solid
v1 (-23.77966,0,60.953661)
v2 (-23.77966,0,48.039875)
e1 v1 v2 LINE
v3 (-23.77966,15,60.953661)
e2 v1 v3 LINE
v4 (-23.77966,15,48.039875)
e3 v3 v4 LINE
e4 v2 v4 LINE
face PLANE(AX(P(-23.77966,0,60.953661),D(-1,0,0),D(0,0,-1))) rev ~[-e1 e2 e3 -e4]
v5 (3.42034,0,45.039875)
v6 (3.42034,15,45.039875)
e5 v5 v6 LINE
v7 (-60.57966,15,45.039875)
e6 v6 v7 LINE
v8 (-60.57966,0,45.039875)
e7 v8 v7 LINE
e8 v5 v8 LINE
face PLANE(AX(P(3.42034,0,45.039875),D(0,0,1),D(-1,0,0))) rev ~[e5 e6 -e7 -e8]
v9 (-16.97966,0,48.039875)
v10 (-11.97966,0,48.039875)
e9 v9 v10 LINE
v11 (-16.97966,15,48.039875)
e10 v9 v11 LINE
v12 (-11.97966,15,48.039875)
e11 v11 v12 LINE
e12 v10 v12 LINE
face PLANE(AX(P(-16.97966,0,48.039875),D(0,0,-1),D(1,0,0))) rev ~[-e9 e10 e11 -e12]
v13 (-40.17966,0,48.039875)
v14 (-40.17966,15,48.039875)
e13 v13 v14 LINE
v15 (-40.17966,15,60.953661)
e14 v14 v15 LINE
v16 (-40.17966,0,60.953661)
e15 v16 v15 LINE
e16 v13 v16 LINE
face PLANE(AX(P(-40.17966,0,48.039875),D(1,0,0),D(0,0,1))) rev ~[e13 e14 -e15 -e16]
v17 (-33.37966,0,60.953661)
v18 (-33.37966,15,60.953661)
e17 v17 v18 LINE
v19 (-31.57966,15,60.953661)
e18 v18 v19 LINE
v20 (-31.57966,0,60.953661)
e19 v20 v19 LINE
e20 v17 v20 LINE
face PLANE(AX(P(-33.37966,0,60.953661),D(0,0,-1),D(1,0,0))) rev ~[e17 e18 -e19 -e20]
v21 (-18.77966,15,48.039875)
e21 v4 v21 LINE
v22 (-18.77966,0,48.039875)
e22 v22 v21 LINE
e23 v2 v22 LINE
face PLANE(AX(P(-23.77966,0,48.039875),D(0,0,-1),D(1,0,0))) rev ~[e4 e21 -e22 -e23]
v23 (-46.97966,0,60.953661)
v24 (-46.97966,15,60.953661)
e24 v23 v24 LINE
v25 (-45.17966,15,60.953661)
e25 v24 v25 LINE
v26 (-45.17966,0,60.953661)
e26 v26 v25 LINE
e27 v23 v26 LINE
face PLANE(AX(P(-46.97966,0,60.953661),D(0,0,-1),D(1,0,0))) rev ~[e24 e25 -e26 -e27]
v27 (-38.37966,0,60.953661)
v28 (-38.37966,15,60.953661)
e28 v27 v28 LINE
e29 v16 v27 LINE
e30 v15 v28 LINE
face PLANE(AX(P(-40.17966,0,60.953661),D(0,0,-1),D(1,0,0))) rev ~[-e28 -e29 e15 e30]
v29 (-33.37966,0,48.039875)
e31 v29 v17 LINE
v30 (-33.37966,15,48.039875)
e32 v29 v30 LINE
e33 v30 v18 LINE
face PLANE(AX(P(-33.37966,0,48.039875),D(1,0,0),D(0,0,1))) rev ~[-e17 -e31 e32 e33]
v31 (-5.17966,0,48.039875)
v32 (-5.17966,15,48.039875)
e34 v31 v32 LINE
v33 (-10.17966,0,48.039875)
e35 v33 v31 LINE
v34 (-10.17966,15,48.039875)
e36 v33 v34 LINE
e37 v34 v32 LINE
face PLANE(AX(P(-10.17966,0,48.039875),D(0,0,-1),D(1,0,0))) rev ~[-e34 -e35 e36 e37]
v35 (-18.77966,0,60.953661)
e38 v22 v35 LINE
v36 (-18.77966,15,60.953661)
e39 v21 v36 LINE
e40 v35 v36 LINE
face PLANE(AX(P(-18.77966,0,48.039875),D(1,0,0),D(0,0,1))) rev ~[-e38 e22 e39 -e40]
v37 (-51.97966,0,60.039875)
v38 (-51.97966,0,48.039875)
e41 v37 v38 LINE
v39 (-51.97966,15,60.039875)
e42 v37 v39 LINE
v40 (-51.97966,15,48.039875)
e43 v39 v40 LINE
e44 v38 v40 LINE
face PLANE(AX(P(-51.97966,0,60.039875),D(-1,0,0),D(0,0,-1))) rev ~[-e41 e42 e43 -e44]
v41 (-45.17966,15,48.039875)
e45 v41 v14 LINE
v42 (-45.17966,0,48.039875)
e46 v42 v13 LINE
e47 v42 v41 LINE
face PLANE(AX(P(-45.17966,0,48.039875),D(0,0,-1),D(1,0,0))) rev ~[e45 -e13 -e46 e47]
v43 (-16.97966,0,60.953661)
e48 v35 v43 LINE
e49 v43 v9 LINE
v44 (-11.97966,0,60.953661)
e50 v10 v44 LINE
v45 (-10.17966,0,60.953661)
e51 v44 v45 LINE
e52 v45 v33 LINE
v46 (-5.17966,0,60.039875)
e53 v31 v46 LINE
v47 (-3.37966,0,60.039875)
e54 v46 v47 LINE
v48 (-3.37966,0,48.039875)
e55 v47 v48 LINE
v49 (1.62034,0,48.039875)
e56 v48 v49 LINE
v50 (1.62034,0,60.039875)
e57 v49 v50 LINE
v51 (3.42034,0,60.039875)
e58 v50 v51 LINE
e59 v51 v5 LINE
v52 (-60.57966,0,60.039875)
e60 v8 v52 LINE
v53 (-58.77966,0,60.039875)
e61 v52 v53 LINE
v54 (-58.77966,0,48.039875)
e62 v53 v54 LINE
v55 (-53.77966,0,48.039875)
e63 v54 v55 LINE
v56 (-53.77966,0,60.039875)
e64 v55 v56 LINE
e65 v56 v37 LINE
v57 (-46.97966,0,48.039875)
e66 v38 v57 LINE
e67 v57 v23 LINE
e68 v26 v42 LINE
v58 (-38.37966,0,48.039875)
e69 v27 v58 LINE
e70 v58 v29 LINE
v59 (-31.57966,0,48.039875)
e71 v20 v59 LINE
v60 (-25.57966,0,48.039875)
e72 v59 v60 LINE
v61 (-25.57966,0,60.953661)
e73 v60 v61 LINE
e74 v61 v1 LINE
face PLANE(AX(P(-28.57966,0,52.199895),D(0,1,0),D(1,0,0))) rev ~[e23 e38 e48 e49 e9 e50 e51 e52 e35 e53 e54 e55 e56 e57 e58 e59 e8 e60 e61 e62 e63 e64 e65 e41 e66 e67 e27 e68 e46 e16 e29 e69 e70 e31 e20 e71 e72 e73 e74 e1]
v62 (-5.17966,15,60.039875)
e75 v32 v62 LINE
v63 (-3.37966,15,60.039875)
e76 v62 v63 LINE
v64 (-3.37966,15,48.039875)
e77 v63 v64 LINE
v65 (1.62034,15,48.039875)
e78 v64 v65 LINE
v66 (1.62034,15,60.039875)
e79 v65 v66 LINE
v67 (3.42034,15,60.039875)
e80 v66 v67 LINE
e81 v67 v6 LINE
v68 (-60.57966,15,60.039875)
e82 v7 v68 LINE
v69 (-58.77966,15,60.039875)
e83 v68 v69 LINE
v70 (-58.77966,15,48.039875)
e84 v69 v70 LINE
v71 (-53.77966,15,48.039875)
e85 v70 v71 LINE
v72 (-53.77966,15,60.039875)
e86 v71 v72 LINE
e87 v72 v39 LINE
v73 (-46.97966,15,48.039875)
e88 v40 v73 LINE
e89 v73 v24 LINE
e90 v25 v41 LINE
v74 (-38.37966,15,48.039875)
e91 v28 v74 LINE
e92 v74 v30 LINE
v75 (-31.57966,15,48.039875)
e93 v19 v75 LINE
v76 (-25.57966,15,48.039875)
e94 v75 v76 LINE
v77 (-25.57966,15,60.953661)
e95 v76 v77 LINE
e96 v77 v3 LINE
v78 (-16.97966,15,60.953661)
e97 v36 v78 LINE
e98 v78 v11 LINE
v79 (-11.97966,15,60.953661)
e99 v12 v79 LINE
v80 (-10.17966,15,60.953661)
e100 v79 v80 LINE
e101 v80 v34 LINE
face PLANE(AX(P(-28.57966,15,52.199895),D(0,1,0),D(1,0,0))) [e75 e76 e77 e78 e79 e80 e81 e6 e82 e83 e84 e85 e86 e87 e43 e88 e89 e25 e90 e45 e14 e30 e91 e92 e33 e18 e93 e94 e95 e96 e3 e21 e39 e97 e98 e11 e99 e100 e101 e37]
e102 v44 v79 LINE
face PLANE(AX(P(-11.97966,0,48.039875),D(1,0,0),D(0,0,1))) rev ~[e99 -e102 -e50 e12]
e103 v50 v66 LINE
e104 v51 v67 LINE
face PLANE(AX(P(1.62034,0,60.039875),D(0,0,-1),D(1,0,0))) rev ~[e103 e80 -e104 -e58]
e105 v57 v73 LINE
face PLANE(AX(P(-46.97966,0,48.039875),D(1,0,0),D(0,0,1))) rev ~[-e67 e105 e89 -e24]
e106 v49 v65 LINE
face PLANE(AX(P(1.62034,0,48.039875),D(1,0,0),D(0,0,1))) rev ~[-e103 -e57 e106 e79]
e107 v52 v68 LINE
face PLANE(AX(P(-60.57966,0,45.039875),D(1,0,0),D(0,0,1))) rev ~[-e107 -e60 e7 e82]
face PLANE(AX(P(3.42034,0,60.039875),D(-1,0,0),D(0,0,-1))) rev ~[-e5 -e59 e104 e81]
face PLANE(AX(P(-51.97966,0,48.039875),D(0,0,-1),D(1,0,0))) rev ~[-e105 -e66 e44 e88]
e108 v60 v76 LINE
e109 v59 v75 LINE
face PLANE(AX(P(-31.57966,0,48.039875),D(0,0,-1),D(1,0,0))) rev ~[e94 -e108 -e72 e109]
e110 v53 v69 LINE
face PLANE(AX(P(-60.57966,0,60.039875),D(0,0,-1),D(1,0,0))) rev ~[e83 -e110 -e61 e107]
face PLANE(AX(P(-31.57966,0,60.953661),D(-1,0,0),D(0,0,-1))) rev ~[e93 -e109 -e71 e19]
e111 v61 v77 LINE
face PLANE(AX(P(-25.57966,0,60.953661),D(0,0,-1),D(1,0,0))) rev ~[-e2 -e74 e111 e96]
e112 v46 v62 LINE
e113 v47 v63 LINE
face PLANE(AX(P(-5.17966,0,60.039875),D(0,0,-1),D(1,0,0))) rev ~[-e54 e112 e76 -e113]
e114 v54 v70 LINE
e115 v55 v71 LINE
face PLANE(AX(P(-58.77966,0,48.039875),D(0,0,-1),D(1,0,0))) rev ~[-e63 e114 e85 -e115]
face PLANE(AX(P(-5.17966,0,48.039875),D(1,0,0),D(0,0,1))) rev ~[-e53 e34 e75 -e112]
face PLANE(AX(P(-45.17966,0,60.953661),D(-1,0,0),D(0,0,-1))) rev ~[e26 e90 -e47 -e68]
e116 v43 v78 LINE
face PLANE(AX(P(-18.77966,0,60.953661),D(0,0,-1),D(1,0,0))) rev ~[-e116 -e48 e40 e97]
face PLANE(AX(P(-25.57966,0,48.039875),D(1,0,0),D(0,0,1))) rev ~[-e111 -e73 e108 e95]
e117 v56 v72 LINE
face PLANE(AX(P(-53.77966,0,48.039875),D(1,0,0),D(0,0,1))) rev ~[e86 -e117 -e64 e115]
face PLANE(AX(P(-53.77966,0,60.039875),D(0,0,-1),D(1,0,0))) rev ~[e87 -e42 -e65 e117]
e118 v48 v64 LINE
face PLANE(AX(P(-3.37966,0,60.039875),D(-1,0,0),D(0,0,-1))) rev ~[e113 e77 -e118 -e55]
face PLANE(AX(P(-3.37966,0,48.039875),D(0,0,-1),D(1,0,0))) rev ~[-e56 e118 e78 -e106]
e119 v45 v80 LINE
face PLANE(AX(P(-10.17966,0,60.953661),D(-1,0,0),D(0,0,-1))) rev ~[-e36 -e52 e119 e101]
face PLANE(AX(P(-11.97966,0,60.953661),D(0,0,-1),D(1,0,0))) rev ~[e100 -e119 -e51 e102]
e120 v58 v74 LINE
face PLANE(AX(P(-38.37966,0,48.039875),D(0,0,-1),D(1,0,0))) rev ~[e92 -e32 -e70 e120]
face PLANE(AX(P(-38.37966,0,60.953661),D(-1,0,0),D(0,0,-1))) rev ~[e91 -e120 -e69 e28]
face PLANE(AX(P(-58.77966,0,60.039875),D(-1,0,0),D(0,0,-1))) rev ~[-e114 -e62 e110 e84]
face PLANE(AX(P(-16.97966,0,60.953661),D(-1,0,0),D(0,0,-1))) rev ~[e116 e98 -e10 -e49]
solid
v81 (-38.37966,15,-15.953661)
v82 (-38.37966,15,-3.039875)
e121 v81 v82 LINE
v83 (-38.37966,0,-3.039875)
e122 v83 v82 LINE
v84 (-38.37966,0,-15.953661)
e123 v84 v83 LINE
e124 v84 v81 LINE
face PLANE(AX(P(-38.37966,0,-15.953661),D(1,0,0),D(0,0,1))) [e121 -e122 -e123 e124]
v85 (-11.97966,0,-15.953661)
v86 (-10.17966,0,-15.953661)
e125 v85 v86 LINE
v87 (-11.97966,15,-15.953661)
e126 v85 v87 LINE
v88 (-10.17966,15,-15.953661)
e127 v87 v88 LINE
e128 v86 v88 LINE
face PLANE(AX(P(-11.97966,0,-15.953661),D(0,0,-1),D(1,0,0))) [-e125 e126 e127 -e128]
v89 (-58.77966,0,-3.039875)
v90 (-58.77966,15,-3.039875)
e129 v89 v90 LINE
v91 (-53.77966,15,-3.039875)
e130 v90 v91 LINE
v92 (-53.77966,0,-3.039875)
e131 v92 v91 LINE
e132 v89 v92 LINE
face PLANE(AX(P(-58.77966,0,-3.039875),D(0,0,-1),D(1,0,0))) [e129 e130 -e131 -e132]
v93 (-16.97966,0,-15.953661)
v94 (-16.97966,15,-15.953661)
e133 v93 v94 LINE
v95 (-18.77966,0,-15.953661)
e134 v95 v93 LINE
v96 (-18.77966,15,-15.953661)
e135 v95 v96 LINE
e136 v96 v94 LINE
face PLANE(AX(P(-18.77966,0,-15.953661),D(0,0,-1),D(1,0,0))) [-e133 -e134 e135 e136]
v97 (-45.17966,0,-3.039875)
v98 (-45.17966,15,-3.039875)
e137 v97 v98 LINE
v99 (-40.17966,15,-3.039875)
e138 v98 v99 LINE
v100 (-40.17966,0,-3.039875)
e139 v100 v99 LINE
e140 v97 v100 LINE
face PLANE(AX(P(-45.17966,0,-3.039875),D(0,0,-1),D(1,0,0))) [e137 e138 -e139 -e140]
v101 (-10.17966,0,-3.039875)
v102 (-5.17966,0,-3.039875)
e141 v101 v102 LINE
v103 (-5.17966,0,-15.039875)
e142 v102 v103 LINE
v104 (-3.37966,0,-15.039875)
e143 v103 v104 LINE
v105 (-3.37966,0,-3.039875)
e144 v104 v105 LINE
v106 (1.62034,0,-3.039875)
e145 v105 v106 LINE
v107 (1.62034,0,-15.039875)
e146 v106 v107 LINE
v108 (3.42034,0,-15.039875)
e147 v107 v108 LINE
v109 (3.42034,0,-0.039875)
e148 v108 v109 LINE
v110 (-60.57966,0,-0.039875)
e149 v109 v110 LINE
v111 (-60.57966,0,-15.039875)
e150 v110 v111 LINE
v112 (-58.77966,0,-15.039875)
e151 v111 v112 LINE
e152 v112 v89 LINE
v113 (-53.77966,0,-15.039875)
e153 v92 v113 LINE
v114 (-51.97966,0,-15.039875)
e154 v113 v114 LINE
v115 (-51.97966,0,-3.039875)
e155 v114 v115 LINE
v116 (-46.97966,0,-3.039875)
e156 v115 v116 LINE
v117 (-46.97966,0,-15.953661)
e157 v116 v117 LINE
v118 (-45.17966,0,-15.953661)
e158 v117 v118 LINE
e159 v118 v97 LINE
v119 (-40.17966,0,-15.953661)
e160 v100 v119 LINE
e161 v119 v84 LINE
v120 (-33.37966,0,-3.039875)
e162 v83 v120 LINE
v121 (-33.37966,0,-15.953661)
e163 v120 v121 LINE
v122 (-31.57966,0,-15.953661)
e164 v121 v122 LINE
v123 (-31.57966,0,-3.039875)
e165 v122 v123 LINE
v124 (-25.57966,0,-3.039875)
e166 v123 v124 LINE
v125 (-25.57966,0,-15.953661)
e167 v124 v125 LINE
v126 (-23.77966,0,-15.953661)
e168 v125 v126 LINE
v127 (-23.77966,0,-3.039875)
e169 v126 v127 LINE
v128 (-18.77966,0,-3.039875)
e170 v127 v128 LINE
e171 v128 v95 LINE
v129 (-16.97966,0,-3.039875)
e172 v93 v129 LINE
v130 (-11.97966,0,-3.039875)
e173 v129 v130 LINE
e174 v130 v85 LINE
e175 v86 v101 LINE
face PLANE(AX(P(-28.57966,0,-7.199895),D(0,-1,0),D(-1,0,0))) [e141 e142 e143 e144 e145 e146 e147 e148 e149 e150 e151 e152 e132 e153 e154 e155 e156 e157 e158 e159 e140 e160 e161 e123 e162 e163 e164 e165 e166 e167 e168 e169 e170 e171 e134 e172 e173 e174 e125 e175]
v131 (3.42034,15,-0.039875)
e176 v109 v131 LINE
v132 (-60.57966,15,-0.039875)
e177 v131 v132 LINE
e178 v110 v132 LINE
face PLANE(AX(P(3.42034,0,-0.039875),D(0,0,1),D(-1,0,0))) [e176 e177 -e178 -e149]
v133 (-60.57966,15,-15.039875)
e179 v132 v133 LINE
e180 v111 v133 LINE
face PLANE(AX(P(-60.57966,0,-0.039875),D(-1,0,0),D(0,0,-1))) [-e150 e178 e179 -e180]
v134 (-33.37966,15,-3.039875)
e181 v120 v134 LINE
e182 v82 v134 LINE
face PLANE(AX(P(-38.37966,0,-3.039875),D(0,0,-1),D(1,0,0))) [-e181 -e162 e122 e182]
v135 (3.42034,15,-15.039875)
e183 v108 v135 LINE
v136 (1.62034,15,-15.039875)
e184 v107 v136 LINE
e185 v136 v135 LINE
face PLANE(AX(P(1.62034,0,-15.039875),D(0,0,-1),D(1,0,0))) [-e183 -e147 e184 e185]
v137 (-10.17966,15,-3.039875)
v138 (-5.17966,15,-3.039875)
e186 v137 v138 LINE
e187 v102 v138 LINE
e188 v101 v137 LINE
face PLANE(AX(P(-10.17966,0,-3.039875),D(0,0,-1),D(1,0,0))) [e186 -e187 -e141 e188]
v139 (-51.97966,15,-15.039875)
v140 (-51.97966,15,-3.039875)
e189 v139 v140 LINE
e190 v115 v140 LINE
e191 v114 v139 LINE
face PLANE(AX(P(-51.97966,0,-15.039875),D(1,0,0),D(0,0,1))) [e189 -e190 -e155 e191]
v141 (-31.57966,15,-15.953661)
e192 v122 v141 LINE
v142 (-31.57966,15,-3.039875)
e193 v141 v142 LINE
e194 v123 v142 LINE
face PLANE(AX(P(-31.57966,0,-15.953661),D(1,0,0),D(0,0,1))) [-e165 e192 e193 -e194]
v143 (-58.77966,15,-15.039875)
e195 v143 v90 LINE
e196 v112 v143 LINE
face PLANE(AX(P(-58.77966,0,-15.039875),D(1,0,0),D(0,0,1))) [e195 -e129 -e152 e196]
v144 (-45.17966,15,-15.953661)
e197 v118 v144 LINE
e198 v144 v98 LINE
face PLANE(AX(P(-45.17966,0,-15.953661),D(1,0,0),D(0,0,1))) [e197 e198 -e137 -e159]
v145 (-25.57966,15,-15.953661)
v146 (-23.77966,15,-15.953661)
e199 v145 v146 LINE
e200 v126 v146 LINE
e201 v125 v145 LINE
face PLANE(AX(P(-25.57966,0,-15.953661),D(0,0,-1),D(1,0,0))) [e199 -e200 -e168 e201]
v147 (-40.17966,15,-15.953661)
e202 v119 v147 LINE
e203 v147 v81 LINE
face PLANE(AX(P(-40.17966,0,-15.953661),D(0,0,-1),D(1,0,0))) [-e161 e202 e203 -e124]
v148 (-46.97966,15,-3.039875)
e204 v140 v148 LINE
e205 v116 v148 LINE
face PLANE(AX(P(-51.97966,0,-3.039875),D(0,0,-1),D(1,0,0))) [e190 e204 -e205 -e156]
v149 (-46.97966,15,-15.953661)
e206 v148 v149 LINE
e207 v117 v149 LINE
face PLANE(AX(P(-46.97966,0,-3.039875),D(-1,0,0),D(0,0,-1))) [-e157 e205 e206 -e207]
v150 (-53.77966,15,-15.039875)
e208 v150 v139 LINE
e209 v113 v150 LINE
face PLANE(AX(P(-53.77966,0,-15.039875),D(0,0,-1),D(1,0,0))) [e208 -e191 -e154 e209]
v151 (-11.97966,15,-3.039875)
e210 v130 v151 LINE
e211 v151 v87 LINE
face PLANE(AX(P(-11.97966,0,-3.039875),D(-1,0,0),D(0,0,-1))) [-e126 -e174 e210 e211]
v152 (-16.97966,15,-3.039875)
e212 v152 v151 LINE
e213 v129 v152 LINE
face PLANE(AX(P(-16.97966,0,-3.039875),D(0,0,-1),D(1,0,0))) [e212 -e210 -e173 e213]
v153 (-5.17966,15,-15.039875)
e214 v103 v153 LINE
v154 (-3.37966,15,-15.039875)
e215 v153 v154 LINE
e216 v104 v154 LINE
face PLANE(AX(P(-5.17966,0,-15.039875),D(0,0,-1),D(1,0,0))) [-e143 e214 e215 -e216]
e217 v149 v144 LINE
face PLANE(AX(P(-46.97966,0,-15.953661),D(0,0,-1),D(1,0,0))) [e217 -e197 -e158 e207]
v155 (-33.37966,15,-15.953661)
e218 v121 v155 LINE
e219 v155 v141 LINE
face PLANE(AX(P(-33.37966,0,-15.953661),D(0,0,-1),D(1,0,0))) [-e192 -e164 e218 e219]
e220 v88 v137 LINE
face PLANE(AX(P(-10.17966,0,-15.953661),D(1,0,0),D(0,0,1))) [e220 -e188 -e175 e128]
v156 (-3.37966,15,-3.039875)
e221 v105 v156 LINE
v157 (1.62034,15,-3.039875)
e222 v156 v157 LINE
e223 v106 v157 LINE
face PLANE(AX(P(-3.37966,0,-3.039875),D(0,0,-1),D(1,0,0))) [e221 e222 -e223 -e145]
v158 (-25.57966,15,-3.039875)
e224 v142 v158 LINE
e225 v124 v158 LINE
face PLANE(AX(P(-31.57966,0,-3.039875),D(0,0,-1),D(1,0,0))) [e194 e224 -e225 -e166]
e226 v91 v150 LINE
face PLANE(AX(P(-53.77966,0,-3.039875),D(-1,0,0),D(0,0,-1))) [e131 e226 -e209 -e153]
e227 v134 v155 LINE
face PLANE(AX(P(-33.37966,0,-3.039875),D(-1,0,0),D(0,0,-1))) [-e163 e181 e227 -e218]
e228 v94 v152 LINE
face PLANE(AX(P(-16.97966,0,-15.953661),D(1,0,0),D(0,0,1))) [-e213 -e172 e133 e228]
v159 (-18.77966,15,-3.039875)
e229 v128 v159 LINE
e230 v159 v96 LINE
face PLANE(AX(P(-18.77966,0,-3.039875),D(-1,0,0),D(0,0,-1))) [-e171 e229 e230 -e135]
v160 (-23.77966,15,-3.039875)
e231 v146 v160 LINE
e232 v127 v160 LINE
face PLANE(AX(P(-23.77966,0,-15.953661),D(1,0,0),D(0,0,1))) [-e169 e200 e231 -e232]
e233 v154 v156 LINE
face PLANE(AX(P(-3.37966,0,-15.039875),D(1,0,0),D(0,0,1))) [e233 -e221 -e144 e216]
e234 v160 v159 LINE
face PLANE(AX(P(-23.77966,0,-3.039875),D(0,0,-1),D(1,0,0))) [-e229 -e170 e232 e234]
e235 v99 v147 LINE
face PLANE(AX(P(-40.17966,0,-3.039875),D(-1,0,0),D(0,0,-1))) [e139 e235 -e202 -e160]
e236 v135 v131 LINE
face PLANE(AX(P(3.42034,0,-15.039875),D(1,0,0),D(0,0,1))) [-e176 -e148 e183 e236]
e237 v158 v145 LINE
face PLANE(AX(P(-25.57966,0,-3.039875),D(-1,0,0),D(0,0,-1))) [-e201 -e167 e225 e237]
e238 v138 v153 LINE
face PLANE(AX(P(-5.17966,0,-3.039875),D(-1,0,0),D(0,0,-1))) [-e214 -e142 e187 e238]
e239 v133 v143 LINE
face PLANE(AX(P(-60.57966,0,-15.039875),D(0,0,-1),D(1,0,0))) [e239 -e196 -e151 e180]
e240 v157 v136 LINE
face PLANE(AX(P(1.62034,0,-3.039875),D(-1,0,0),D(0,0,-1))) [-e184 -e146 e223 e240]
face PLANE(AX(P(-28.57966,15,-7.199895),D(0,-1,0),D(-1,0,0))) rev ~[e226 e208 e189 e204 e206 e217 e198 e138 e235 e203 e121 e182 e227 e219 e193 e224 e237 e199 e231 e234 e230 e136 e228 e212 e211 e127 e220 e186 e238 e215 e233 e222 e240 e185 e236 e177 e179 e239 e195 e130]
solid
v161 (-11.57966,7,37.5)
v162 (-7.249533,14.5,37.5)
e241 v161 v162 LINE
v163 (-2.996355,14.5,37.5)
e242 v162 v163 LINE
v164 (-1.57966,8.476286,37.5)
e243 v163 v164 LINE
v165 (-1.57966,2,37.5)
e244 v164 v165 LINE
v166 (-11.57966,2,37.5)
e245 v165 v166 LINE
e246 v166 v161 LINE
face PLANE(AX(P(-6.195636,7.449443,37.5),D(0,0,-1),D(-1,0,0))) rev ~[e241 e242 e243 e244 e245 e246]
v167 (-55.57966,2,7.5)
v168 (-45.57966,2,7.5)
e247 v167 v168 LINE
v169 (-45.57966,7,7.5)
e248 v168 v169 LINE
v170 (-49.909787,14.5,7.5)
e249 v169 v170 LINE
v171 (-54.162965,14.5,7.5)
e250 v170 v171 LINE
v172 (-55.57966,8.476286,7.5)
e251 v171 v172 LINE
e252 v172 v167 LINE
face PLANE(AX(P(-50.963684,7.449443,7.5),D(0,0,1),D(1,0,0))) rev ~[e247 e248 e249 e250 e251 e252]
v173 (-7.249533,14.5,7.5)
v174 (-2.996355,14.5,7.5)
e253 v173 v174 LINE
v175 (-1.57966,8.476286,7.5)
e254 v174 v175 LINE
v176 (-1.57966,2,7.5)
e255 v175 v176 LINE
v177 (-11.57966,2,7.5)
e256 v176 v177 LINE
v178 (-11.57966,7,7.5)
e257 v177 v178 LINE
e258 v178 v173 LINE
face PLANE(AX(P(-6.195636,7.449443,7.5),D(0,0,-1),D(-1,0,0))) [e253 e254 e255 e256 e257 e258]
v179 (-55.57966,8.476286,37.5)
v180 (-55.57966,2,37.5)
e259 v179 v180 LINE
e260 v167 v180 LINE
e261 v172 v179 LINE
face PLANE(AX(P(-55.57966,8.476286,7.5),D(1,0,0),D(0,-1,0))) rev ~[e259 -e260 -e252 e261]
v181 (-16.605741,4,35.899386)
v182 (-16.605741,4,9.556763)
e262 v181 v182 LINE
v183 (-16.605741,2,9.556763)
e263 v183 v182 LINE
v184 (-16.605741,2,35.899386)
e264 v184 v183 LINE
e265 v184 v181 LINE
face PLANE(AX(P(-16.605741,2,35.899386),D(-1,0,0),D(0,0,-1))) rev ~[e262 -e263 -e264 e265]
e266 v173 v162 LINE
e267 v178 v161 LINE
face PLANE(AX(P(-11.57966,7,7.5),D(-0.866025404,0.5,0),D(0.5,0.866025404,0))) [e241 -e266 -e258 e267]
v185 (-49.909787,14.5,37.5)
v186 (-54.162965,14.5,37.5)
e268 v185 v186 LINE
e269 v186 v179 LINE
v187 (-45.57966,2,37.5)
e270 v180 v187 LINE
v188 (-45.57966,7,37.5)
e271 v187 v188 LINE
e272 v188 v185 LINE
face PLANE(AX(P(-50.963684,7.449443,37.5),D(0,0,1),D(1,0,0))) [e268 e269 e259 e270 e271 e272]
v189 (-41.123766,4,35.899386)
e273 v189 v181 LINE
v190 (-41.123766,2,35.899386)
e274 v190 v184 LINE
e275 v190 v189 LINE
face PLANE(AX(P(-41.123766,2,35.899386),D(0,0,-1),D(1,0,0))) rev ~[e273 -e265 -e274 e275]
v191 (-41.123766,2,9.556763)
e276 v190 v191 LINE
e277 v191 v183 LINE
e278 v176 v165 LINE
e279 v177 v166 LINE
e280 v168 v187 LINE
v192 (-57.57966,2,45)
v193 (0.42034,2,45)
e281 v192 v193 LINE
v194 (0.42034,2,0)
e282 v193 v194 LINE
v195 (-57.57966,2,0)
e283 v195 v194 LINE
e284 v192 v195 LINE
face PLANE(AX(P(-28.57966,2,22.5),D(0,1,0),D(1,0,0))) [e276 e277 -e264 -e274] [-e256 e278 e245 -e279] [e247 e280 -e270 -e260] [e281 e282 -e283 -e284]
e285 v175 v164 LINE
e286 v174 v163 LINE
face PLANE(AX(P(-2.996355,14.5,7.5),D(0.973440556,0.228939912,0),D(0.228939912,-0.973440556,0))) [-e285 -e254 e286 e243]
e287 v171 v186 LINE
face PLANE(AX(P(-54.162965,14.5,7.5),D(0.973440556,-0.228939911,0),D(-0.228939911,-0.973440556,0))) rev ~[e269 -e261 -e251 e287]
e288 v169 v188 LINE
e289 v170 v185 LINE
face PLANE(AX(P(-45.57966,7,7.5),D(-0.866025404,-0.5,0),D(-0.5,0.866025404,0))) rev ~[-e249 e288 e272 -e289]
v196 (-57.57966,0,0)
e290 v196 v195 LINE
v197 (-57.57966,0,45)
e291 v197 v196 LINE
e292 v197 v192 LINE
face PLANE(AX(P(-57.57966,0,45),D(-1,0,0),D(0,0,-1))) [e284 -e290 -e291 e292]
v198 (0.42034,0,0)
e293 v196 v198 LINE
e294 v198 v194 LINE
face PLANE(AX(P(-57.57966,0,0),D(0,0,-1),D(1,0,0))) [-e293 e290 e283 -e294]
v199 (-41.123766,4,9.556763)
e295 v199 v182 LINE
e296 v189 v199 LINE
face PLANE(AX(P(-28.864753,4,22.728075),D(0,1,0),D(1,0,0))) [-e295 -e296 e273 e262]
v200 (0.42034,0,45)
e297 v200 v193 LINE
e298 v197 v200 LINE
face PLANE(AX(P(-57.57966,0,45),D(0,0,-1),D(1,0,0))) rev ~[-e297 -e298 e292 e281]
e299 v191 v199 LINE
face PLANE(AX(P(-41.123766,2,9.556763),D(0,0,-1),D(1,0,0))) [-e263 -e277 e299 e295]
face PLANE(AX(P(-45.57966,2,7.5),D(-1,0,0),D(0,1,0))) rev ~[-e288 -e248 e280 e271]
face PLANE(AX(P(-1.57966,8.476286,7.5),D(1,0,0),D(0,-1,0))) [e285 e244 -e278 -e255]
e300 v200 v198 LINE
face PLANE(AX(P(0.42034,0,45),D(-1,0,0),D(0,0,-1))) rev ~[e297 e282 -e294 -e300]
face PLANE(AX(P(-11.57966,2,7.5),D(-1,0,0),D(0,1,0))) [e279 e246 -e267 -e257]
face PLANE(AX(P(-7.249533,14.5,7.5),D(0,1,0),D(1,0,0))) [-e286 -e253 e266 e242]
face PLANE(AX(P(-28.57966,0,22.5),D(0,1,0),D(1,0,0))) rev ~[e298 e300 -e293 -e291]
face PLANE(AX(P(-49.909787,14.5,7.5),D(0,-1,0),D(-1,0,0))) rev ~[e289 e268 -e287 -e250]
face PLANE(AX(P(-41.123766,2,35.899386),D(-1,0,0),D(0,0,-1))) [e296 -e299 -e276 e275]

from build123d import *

# Parameters (mm, degrees)
SKETCH2_W             = 58
SKETCH2_H             = 45
BOSS_EXTRUDE1_DEPTH   = 2
BOSS_EXTRUDE2_DEPTH   = 15
BOSS_EXTRUDE2_2_DEPTH = 15
BOSS_EXTRUDE3_DEPTH   = 30
SKETCH5_W             = 24.518025474
SKETCH5_H             = 26.342622719
BOSS_EXTRUDE4_DEPTH   = 2


with BuildPart() as part:
    # Sketch2 → Boss-Extrude1 (new body)
    with BuildSketch(Plane(origin=(0, 0, 0), x_dir=(1, 0, 0), z_dir=(0, 1, 0))):
        with Locations((-28.579660082, -22.5)):
            Rectangle(SKETCH2_W, SKETCH2_H)
    extrude(amount=BOSS_EXTRUDE1_DEPTH)

    # Sketch4 → Boss-Extrude3 (add)
    with BuildSketch(Plane.XY.offset(7.5)):
        Polygon((-1.579660082, 2), (-11.579660082, 2), (-11.579660082, 7), (-7.249533064, 14.5), (-2.99635519, 14.5), (-1.579660082, 8.476286332), align=None)
        Polygon((-55.579660082, 8.476286332), (-55.579660082, 2), (-45.579660082, 2), (-45.579660082, 7), (-49.909787101, 14.5), (-54.162964975, 14.5), align=None)
    extrude(amount=BOSS_EXTRUDE3_DEPTH)

    # Sketch5 → Boss-Extrude4 (add)
    with BuildSketch(Plane(origin=(0, 2, 0), x_dir=(1, 0, 0), z_dir=(0, 1, 0))):
        with Locations((-28.864753402, -22.728074656)):
            Rectangle(SKETCH5_W, SKETCH5_H)
    extrude(amount=BOSS_EXTRUDE4_DEPTH)


with BuildPart() as body_2:
    # Sketch3 → Boss-Extrude2 (new body)
    with BuildSketch(Plane(origin=(0, 0, 0), x_dir=(1, 0, 0), z_dir=(0, 1, 0))):
        Polygon((3.420339918, -45.039874663), (-60.579660082, -45.039874663), (-60.579660082, -60.039874663), (-58.779660082, -60.039874663), (-58.779660082, -48.039874663), (-53.779660082, -48.039874663), (-53.779660082, -60.039874663), (-51.979660082, -60.039874663), (-51.979660082, -48.039874663), (-46.979660082, -48.039874663), (-46.979660082, -60.953661468), (-45.179660082, -60.953661468), (-45.179660082, -48.039874663), (-40.179660082, -48.039874663), (-40.179660082, -60.953661468), (-38.379660082, -60.953661468), (-38.379660082, -48.039874663), (-33.379660082, -48.039874663), (-33.379660082, -60.953661468), (-31.579660082, -60.953661468), (-31.579660082, -48.039874663), (-25.579660082, -48.039874663), (-25.579660082, -60.953661468), (-23.779660082, -60.953661468), (-23.779660082, -48.039874663), (-18.779660082, -48.039874663), (-18.779660082, -60.953661468), (-16.979660082, -60.953661468), (-16.979660082, -48.039874663), (-11.979660082, -48.039874663), (-11.979660082, -60.953661468), (-10.179660082, -60.953661468), (-10.179660082, -48.039874663), (-5.179660082, -48.039874663), (-5.179660082, -60.039874663), (-3.379660082, -60.039874663), (-3.379660082, -48.039874663), (1.620339918, -48.039874663), (1.620339918, -60.039874663), (3.420339918, -60.039874663), align=None)
    extrude(amount=BOSS_EXTRUDE2_DEPTH)


with BuildPart() as body_3:
    # Sketch3 → Boss-Extrude2 2 (new body)
    with BuildSketch(Plane(origin=(0, 0, 0), x_dir=(1, 0, 0), z_dir=(0, 1, 0))):
        Polygon((-60.579660082, 15.039874663), (-58.779660082, 15.039874663), (-58.779660082, 3.039874663), (-53.779660082, 3.039874663), (-53.779660082, 15.039874663), (-51.979660082, 15.039874663), (-51.979660082, 3.039874663), (-46.979660082, 3.039874663), (-46.979660082, 15.953661468), (-45.179660082, 15.953661468), (-45.179660082, 3.039874663), (-40.179660082, 3.039874663), (-40.179660082, 15.953661468), (-38.379660082, 15.953661468), (-38.379660082, 3.039874663), (-33.379660082, 3.039874663), (-33.379660082, 15.953661468), (-31.579660082, 15.953661468), (-31.579660082, 3.039874663), (-25.579660082, 3.039874663), (-25.579660082, 15.953661468), (-23.779660082, 15.953661468), (-23.779660082, 3.039874663), (-18.779660082, 3.039874663), (-18.779660082, 15.953661468), (-16.979660082, 15.953661468), (-16.979660082, 3.039874663), (-11.979660082, 3.039874663), (-11.979660082, 15.953661468), (-10.179660082, 15.953661468), (-10.179660082, 3.039874663), (-5.179660082, 3.039874663), (-5.179660082, 15.039874663), (-3.379660082, 15.039874663), (-3.379660082, 3.039874663), (1.620339918, 3.039874663), (1.620339918, 15.039874663), (3.420339918, 15.039874663), (3.420339918, 0.039874663), (-60.579660082, 0.039874663), align=None)
    extrude(amount=BOSS_EXTRUDE2_2_DEPTH)


solid = Compound([part.part, body_2.part, body_3.part])
